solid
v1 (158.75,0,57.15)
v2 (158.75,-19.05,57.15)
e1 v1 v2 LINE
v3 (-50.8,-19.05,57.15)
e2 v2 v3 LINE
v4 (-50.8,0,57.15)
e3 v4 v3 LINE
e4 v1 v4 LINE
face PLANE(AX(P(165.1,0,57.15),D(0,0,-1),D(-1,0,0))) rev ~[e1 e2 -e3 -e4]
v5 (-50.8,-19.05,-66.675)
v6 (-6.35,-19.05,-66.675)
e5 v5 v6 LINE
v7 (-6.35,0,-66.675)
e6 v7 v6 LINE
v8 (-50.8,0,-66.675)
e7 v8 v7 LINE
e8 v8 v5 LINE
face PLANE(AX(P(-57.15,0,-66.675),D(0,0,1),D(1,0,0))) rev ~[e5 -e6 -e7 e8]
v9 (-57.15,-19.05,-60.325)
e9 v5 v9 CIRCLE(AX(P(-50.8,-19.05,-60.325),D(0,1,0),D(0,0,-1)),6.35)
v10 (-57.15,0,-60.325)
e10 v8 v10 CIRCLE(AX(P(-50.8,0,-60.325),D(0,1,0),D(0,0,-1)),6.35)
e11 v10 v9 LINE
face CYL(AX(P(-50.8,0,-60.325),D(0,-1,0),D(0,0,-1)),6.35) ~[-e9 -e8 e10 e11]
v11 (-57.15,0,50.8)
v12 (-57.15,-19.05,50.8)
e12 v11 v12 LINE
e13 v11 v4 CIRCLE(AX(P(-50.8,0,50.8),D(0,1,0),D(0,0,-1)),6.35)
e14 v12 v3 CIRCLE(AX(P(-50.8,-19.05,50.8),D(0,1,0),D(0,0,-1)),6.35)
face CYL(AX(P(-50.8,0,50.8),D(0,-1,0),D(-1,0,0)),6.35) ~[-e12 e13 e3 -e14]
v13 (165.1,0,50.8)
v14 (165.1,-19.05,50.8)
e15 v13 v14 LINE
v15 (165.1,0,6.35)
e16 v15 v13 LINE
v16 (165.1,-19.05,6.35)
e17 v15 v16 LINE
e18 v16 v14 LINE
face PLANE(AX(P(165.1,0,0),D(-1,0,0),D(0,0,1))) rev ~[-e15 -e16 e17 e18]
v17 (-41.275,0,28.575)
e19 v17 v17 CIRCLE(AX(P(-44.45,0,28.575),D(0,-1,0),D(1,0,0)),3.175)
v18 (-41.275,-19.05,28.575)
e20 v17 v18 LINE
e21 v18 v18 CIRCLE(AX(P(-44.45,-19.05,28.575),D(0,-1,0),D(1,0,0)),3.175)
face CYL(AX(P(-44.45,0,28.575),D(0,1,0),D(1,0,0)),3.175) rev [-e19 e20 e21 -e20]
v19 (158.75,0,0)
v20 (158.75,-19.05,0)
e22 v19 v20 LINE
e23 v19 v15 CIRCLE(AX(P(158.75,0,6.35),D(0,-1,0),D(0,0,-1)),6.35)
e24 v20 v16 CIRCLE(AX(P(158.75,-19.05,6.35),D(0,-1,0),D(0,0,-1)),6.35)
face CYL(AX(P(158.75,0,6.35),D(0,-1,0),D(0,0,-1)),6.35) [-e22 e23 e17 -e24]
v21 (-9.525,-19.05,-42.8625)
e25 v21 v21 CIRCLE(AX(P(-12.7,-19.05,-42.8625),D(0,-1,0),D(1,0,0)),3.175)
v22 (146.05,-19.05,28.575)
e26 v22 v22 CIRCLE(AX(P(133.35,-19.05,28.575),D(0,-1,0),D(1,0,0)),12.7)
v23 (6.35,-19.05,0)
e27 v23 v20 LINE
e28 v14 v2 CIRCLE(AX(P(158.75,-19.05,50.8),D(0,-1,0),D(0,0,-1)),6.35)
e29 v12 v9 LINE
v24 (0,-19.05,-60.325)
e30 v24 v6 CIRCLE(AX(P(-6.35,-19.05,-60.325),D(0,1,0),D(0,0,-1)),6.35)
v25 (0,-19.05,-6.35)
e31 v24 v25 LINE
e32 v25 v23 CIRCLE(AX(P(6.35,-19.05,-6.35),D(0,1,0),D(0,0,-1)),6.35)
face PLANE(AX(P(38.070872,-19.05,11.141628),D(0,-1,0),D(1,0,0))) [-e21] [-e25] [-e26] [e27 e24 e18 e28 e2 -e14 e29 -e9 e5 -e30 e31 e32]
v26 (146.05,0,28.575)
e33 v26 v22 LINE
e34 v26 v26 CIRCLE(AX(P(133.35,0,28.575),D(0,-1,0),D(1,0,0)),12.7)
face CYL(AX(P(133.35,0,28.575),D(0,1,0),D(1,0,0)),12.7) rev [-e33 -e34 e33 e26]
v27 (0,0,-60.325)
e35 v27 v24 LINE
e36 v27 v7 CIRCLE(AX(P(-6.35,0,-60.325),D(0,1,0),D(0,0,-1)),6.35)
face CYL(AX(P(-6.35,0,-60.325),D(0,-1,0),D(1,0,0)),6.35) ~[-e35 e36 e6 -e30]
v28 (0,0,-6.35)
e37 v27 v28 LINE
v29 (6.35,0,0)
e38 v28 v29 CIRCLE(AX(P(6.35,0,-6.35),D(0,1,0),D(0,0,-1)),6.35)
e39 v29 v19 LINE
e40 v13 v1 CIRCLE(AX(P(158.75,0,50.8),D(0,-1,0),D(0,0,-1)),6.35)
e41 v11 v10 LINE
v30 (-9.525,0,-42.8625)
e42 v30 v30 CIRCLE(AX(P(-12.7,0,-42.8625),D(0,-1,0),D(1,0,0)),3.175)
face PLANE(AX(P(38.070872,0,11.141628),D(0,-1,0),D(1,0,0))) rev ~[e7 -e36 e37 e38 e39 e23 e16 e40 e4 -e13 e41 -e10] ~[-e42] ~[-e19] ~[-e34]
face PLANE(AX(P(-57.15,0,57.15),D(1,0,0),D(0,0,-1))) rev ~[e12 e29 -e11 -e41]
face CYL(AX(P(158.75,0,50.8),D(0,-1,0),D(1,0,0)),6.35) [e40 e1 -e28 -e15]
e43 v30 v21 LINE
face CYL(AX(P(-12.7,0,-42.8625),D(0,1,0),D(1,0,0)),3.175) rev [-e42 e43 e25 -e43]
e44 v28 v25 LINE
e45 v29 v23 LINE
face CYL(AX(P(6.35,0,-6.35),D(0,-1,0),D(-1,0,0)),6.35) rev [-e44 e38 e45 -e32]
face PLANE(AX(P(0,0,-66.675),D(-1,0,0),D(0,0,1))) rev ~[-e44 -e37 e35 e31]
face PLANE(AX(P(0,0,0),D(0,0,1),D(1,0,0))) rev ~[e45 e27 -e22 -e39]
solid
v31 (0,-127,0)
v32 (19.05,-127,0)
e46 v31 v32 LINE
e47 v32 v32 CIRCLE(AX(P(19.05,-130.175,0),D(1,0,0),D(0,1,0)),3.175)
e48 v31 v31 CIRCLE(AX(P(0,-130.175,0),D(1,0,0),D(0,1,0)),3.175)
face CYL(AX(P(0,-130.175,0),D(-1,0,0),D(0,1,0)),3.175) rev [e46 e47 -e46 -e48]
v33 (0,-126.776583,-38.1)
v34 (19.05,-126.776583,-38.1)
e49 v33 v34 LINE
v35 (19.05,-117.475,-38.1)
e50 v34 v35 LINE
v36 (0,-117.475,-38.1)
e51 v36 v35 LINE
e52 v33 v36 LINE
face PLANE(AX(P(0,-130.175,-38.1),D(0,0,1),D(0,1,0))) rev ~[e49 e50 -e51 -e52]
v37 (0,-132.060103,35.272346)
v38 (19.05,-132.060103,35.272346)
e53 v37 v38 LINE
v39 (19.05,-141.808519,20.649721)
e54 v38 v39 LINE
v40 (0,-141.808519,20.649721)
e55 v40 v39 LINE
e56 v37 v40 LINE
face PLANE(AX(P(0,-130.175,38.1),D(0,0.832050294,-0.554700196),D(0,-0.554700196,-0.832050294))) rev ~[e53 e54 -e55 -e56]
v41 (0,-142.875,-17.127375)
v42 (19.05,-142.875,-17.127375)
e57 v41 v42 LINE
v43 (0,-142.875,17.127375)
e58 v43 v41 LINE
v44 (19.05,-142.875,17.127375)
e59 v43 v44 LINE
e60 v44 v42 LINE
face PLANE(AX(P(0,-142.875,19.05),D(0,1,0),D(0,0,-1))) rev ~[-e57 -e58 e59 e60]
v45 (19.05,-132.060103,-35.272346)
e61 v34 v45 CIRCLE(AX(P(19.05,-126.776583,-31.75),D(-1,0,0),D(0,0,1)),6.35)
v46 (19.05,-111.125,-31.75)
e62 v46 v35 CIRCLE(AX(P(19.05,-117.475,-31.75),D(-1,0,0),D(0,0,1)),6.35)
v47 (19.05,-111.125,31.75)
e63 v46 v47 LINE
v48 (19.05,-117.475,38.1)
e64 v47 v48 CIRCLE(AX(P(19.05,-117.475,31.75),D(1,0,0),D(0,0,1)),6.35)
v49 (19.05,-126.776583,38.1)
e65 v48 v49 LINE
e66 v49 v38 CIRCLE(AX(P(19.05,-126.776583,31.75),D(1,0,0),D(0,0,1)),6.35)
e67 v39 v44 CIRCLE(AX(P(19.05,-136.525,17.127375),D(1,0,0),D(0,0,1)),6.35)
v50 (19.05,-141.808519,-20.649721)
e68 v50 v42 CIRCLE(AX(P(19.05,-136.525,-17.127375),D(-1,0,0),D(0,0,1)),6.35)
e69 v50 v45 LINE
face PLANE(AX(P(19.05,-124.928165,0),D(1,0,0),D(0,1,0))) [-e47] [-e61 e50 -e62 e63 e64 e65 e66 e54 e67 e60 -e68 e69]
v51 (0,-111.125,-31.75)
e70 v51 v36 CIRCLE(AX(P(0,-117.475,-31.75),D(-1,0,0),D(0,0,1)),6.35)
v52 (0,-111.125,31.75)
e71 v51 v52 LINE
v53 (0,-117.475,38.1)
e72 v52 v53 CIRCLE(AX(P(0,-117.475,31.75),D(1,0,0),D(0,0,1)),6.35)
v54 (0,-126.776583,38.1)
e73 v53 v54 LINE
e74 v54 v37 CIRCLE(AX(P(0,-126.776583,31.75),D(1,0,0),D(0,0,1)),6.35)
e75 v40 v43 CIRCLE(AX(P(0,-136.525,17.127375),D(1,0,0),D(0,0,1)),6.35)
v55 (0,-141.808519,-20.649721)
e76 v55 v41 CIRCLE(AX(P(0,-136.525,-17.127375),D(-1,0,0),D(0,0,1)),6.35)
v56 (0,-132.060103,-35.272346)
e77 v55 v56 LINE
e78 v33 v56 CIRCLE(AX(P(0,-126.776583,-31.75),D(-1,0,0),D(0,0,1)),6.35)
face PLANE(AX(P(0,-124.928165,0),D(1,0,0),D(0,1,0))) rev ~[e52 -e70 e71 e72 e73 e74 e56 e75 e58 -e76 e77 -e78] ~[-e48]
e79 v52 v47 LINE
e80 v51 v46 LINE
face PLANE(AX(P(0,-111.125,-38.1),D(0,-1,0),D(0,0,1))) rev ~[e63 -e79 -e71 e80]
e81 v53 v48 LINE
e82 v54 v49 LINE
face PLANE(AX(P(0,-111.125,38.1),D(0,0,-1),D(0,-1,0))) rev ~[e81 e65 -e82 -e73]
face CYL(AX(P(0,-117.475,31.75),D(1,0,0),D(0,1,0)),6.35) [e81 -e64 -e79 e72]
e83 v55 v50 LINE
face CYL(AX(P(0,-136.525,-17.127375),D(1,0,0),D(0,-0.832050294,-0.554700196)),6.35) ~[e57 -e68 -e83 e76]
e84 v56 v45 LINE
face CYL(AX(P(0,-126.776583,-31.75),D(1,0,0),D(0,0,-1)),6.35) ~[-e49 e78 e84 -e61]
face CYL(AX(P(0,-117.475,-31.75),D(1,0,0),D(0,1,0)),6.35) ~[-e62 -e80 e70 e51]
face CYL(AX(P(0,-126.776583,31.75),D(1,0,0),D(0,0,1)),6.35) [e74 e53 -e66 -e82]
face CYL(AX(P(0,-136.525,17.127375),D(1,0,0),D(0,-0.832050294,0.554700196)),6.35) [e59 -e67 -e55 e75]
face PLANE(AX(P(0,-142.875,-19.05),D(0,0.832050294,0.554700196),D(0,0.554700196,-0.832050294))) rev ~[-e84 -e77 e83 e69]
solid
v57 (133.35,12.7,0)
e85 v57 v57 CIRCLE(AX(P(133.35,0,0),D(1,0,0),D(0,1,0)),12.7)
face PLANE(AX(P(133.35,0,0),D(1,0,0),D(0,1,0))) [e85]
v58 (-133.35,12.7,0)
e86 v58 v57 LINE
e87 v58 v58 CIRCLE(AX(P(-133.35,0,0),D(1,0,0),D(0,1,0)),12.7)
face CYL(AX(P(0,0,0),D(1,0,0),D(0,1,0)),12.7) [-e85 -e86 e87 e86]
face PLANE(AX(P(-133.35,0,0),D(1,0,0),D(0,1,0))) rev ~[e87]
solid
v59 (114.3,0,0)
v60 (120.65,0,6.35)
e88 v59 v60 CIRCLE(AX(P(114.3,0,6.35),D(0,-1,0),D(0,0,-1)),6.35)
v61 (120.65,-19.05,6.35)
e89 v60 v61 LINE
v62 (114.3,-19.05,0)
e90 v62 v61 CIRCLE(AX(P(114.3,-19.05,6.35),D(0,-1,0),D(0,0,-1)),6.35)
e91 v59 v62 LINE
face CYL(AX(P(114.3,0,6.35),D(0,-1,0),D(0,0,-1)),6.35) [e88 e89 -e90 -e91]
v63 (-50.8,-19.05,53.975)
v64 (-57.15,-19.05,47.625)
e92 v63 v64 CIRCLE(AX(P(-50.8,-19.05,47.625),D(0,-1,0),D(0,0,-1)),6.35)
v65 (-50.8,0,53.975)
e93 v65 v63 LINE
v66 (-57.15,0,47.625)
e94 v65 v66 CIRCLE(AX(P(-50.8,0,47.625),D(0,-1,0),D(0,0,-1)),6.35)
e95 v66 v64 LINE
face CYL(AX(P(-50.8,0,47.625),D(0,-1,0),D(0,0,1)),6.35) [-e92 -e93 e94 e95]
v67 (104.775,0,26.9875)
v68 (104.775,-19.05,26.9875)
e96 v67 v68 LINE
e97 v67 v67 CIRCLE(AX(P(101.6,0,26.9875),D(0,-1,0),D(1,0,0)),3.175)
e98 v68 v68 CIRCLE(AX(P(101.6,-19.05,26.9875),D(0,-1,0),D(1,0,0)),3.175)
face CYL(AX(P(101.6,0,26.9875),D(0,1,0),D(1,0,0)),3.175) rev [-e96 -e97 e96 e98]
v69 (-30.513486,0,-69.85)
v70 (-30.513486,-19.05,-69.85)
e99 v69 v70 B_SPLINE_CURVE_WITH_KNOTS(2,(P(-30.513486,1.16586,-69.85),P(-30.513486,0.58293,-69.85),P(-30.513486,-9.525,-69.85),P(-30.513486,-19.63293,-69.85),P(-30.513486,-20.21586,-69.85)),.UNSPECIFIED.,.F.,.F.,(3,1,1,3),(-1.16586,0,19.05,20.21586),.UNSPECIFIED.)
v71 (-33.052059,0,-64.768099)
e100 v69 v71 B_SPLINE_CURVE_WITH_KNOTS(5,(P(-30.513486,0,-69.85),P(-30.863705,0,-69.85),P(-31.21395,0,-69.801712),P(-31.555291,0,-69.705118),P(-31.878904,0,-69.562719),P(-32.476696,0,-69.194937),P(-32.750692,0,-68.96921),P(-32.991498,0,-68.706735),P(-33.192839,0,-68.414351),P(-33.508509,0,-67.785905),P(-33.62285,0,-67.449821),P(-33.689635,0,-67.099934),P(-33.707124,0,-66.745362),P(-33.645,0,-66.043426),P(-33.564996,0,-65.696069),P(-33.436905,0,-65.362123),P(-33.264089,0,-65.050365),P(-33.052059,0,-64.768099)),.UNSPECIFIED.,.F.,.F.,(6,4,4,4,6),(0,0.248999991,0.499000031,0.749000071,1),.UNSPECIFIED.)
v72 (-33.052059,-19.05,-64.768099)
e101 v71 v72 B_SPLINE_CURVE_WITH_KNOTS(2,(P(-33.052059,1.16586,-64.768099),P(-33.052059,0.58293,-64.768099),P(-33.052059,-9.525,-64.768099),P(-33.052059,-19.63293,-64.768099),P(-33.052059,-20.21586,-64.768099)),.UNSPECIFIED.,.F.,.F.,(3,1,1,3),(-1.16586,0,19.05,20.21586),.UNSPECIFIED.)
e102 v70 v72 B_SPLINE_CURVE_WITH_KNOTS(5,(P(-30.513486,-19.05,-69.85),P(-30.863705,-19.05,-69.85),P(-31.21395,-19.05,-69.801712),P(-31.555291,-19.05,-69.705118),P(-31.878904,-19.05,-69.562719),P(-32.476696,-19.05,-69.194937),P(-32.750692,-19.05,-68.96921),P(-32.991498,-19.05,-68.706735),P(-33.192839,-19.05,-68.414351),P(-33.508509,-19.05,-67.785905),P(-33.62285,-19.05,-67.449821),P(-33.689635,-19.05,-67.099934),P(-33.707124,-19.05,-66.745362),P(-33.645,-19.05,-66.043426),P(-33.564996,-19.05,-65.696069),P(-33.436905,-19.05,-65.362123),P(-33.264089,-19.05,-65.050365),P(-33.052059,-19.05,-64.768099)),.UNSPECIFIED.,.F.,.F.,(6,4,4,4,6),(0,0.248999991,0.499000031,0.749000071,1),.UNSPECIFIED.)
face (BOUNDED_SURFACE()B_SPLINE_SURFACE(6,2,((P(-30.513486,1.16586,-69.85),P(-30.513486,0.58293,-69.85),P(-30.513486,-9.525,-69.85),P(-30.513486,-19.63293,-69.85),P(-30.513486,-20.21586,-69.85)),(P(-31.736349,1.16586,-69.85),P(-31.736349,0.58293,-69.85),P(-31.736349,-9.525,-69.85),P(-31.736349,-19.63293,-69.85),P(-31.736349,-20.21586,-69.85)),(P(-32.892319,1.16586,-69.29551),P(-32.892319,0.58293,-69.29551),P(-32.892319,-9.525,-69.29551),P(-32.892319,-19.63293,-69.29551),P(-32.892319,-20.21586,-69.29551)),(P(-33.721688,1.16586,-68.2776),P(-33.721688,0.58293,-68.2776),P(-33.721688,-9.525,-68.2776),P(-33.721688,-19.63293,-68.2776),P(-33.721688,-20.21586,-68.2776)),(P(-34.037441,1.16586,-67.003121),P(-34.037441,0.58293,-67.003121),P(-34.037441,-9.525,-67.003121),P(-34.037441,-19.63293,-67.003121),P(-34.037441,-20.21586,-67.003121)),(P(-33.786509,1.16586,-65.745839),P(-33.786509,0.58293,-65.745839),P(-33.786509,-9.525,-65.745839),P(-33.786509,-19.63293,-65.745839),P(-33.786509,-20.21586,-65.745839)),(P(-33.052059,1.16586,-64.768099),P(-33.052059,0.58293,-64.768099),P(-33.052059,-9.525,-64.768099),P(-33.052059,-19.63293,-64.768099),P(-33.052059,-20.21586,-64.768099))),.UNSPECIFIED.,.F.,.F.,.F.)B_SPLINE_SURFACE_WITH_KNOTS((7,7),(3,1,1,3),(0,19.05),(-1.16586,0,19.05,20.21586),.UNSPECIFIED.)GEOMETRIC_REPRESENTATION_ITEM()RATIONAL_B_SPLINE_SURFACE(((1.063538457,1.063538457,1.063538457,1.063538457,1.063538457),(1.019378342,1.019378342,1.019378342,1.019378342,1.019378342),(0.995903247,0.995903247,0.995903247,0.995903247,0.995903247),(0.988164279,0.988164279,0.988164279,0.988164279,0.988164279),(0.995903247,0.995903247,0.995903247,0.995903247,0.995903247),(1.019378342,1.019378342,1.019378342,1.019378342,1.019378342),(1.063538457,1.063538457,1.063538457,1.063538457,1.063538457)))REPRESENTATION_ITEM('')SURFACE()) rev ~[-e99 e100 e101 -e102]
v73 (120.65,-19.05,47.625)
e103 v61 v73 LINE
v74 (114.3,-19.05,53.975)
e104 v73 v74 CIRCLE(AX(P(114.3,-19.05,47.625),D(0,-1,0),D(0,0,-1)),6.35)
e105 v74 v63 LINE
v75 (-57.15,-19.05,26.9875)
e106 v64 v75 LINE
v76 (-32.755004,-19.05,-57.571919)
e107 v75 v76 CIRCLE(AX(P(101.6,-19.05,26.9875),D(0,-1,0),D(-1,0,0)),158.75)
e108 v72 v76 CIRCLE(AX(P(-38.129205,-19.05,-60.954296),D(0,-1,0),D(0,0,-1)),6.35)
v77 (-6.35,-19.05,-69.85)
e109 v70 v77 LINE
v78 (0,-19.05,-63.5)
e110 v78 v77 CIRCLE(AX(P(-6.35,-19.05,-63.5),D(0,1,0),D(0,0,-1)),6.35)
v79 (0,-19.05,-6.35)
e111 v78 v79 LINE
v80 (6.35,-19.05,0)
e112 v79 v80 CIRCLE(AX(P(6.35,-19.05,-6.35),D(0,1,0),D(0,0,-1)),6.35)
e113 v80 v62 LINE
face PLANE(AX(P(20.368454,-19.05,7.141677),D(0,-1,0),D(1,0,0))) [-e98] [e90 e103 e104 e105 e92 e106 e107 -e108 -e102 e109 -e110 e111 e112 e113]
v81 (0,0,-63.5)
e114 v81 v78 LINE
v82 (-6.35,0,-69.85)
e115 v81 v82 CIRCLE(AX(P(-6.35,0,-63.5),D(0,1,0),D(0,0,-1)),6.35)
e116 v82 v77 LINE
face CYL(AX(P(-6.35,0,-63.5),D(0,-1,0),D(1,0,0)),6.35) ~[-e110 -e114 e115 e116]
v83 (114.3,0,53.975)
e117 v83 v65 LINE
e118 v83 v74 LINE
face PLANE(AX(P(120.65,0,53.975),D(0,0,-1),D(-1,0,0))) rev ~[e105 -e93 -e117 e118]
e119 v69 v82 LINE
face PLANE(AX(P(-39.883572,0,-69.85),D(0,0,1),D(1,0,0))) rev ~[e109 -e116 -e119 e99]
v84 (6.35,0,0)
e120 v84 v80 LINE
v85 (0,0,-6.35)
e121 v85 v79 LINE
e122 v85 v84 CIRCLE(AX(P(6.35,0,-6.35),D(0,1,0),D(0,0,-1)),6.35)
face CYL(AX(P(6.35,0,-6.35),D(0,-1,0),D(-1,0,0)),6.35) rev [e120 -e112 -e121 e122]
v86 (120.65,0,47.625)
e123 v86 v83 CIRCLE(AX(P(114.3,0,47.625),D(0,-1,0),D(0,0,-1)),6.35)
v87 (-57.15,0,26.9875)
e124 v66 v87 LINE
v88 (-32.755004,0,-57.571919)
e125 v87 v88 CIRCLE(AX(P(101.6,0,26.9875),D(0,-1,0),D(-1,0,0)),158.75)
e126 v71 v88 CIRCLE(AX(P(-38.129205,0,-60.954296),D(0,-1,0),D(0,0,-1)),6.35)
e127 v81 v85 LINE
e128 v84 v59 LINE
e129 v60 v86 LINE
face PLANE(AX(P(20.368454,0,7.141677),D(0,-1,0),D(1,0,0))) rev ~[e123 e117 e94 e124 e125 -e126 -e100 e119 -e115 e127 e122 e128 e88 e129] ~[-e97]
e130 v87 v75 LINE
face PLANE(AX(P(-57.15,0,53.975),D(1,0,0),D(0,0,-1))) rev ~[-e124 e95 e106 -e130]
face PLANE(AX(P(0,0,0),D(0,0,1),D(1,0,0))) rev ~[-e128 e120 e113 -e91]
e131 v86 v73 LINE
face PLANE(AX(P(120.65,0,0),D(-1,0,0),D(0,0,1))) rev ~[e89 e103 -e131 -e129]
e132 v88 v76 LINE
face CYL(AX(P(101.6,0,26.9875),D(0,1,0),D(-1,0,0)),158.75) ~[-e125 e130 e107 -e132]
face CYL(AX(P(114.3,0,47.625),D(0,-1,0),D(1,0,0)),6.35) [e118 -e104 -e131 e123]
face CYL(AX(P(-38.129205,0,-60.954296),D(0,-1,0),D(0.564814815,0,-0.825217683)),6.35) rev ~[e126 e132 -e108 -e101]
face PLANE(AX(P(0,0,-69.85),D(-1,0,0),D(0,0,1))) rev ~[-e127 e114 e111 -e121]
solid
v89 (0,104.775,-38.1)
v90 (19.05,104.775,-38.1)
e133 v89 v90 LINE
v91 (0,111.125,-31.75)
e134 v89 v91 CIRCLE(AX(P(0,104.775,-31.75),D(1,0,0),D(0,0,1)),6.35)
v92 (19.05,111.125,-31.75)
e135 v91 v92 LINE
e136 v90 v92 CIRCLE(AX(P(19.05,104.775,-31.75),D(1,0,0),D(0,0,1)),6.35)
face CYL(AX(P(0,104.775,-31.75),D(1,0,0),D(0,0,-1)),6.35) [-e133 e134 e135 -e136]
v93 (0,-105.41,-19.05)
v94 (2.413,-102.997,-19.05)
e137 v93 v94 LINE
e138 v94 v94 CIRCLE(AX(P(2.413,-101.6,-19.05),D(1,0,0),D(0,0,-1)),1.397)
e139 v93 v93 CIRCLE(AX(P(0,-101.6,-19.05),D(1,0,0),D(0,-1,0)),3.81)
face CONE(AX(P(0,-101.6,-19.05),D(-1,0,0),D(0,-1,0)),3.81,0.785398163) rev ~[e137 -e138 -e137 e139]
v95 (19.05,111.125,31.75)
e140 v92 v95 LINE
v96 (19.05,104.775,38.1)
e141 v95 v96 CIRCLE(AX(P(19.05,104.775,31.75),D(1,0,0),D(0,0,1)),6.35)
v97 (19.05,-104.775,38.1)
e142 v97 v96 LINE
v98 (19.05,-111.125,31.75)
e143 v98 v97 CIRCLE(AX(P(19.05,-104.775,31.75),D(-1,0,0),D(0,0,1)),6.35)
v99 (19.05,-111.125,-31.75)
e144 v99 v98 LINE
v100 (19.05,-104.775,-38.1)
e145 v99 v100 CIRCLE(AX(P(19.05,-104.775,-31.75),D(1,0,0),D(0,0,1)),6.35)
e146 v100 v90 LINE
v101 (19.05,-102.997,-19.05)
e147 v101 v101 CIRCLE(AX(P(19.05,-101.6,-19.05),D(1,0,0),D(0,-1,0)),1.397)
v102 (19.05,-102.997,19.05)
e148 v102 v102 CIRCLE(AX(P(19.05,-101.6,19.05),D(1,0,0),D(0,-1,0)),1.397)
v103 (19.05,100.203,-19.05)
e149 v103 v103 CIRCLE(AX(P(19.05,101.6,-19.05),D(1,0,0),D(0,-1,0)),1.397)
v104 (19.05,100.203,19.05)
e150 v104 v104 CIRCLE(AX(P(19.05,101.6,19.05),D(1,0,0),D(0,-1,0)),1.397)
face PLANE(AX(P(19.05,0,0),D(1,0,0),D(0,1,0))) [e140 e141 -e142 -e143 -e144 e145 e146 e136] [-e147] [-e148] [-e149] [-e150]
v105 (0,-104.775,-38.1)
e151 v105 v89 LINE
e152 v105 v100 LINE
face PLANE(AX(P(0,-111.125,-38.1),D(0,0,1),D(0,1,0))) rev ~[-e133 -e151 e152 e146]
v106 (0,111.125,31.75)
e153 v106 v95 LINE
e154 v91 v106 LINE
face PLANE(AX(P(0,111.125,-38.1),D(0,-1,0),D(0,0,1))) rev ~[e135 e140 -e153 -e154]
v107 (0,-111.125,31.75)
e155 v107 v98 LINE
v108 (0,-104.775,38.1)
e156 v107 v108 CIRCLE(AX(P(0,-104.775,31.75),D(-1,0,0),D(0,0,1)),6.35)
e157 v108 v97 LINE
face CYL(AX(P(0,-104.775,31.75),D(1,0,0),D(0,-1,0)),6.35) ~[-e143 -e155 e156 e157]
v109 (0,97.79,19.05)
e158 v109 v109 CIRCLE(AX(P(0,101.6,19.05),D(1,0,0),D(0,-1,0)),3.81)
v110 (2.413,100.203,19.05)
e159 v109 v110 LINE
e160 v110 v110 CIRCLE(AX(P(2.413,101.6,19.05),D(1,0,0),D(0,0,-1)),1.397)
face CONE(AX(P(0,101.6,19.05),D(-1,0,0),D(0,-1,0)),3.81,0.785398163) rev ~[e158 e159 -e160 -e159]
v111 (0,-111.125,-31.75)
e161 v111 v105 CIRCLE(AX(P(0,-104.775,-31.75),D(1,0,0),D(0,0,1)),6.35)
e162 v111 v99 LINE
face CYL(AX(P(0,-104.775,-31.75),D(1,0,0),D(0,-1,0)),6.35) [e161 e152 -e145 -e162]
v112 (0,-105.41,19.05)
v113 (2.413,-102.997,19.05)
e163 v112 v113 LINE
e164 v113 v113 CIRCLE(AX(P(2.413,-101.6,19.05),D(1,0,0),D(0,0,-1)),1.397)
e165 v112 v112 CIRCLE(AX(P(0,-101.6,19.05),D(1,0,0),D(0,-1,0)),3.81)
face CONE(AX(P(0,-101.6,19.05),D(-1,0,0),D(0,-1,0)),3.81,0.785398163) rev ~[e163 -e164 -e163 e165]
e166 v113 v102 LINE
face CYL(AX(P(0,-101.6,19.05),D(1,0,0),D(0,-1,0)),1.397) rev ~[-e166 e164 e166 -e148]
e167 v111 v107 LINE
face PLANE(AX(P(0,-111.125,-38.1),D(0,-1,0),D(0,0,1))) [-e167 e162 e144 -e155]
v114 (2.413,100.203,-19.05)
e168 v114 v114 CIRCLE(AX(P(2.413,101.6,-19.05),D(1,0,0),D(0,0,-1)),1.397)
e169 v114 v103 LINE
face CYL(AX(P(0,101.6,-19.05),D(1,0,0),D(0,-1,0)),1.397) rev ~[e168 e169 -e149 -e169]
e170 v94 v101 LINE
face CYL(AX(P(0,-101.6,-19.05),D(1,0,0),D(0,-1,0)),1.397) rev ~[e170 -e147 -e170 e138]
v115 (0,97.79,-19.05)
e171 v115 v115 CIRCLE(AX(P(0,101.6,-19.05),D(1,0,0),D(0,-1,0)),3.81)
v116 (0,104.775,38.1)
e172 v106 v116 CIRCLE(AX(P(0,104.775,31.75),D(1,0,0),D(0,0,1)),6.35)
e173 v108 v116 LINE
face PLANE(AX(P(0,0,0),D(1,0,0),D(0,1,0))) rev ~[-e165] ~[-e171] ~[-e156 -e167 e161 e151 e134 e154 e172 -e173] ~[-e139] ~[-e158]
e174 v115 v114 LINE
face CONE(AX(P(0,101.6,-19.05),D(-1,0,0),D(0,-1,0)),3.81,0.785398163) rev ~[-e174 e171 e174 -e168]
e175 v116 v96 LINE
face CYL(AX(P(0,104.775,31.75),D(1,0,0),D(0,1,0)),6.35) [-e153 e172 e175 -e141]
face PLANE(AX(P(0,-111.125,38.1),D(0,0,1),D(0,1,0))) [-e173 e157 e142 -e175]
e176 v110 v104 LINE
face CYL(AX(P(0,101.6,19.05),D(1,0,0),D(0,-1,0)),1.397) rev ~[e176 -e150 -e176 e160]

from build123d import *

# Parameters (mm, degrees)
F0_R            = 3.175
F0_R_2          = 12.7
F1_DEPTH        = 19.05
F2_R            = 6.35
F3_R            = 3.175
F4_DEPTH        = 19.05
F5_R            = 6.35
F6_R            = 3.175
F7_W            = 222.25
F7_H            = 76.2
F8_DEPTH        = 19.05
F7_R            = 3.175
F9_DEPTH        = 19.05
F10_R           = 12.7
F11_DEPTH       = 133.35
F12_R           = 6.35
F12_2_R         = 6.35
F13_D           = 2.794
F13_CSINK_D     = 7.62
F13_CSINK_ANGLE = 90


with BuildPart() as f1:
    # F0 (on Front) → F1 (new body)
    with BuildSketch(Plane.XZ):
        Polygon((0, -66.675), (0, 0), (165.1, 0), (165.1, 57.15), (-57.15, 57.15), (-57.15, -66.675), align=None)
        with Locations((-12.7, -42.8625)):
            Circle(F0_R, mode=Mode.SUBTRACT)
        with Locations((-44.45, 28.575)):
            Circle(F0_R, mode=Mode.SUBTRACT)
        with Locations((133.35, 28.575)):
            Circle(F0_R_2, mode=Mode.SUBTRACT)
    extrude(amount=F1_DEPTH)

    # F2
    f2_edges = [f1.edges().sort_by_distance(p)[0] for p in [
        (0, -9.525, 0),
        (-57.15, -9.525, 57.15),
        (165.1, -9.525, 57.15),
        (165.1, -9.525, 0),
        (-57.15, -9.525, -66.675),
        (0, -9.525, -66.675),
    ]]
    fillet(f2_edges, radius=F2_R)


with BuildPart() as f4:
    # F3 (on Front) → F4 (new body)
    with BuildSketch(Plane.XZ):
        with BuildLine():
            Line((0, -69.85), (0, 0))
            Line((0, 0), (120.65, 0))
            Line((120.65, 0), (120.65, 53.975))
            Line((120.65, 53.975), (-57.15, 53.975))
            Line((-57.15, 53.975), (-57.15, 26.9875))
            ThreePointArc((-57.15, 26.9875), (-50.0547683455, -19.9421679945), (-29.4033072368, -62.6768518519))
            Line((-29.4033072368, -62.6768518519), (-39.8835718158, -69.85))
            Line((-39.8835718158, -69.85), (0, -69.85))
        make_face()
        with Locations((101.6, 26.9875)):
            Circle(F3_R, mode=Mode.SUBTRACT)
    extrude(amount=F4_DEPTH)

    # F5
    f5_edges = [f4.edges().sort_by_distance(p)[0] for p in [
        (-57.15, -9.525, 53.975),
        (-29.403307, -9.525, -62.676852),
        (0, -9.525, -69.85),
        (0, -9.525, 0),
        (120.65, -9.525, 0),
        (120.65, -9.525, 53.975),
    ]]
    fillet(f5_edges, radius=F5_R)

    # F6
    f6_edges = [f4.edges().sort_by_distance(p)[0] for p in [
        (-39.883572, -9.525, -69.85),
    ]]
    fillet(f6_edges, radius=F6_R)


with BuildPart() as f8:
    # F7 (on Right) → F8 (new body)
    with BuildSketch(Plane.YZ):
        Rectangle(F7_W, F7_H)
    extrude(amount=F8_DEPTH)

    # F12#2
    f12_2_edges = [f8.edges().sort_by_distance(p)[0] for p in [
        (9.525, -111.125, 38.1),
        (9.525, -111.125, -38.1),
        (9.525, 111.125, -38.1),
        (9.525, 111.125, 38.1),
    ]]
    fillet(f12_2_edges, radius=F12_2_R)

    # F13 (through all)
    with Locations(Plane(origin=(0, 0, 0), x_dir=(0, 1, 0), z_dir=(-1, 0, 0))):
        with Locations((-101.6, -19.05), (-101.6, 19.05), (101.6, 19.05), (101.6, -19.05)):
            CounterSinkHole(F13_D / 2, F13_CSINK_D / 2, counter_sink_angle=F13_CSINK_ANGLE)


with BuildPart() as f9:
    # F7 (on Right) → F9 (new body)
    with BuildSketch(Plane.YZ):
        Polygon((-111.125, -38.1), (-111.125, 38.1), (-130.175, 38.1), (-142.875, 19.05), (-142.875, -19.05), (-130.175, -38.1), align=None)
        with Locations((-130.175, 0)):
            Circle(F7_R, mode=Mode.SUBTRACT)
    extrude(amount=F9_DEPTH)

    # F12
    f12_edges = [f9.edges().sort_by_distance(p)[0] for p in [
        (9.525, -111.125, 38.1),
        (9.525, -130.175, 38.1),
        (9.525, -142.875, 19.05),
        (9.525, -142.875, -19.05),
        (9.525, -130.175, -38.1),
        (9.525, -111.125, -38.1),
    ]]
    fillet(f12_edges, radius=F12_R)


with BuildPart() as f11:
    # F10 (on Right) → F11 (new body, symmetric)
    with BuildSketch(Plane.YZ):
        Circle(F10_R)
    extrude(amount=F11_DEPTH, both=True)


solid = Compound([f1.part, f4.part, f8.part, f9.part, f11.part])
